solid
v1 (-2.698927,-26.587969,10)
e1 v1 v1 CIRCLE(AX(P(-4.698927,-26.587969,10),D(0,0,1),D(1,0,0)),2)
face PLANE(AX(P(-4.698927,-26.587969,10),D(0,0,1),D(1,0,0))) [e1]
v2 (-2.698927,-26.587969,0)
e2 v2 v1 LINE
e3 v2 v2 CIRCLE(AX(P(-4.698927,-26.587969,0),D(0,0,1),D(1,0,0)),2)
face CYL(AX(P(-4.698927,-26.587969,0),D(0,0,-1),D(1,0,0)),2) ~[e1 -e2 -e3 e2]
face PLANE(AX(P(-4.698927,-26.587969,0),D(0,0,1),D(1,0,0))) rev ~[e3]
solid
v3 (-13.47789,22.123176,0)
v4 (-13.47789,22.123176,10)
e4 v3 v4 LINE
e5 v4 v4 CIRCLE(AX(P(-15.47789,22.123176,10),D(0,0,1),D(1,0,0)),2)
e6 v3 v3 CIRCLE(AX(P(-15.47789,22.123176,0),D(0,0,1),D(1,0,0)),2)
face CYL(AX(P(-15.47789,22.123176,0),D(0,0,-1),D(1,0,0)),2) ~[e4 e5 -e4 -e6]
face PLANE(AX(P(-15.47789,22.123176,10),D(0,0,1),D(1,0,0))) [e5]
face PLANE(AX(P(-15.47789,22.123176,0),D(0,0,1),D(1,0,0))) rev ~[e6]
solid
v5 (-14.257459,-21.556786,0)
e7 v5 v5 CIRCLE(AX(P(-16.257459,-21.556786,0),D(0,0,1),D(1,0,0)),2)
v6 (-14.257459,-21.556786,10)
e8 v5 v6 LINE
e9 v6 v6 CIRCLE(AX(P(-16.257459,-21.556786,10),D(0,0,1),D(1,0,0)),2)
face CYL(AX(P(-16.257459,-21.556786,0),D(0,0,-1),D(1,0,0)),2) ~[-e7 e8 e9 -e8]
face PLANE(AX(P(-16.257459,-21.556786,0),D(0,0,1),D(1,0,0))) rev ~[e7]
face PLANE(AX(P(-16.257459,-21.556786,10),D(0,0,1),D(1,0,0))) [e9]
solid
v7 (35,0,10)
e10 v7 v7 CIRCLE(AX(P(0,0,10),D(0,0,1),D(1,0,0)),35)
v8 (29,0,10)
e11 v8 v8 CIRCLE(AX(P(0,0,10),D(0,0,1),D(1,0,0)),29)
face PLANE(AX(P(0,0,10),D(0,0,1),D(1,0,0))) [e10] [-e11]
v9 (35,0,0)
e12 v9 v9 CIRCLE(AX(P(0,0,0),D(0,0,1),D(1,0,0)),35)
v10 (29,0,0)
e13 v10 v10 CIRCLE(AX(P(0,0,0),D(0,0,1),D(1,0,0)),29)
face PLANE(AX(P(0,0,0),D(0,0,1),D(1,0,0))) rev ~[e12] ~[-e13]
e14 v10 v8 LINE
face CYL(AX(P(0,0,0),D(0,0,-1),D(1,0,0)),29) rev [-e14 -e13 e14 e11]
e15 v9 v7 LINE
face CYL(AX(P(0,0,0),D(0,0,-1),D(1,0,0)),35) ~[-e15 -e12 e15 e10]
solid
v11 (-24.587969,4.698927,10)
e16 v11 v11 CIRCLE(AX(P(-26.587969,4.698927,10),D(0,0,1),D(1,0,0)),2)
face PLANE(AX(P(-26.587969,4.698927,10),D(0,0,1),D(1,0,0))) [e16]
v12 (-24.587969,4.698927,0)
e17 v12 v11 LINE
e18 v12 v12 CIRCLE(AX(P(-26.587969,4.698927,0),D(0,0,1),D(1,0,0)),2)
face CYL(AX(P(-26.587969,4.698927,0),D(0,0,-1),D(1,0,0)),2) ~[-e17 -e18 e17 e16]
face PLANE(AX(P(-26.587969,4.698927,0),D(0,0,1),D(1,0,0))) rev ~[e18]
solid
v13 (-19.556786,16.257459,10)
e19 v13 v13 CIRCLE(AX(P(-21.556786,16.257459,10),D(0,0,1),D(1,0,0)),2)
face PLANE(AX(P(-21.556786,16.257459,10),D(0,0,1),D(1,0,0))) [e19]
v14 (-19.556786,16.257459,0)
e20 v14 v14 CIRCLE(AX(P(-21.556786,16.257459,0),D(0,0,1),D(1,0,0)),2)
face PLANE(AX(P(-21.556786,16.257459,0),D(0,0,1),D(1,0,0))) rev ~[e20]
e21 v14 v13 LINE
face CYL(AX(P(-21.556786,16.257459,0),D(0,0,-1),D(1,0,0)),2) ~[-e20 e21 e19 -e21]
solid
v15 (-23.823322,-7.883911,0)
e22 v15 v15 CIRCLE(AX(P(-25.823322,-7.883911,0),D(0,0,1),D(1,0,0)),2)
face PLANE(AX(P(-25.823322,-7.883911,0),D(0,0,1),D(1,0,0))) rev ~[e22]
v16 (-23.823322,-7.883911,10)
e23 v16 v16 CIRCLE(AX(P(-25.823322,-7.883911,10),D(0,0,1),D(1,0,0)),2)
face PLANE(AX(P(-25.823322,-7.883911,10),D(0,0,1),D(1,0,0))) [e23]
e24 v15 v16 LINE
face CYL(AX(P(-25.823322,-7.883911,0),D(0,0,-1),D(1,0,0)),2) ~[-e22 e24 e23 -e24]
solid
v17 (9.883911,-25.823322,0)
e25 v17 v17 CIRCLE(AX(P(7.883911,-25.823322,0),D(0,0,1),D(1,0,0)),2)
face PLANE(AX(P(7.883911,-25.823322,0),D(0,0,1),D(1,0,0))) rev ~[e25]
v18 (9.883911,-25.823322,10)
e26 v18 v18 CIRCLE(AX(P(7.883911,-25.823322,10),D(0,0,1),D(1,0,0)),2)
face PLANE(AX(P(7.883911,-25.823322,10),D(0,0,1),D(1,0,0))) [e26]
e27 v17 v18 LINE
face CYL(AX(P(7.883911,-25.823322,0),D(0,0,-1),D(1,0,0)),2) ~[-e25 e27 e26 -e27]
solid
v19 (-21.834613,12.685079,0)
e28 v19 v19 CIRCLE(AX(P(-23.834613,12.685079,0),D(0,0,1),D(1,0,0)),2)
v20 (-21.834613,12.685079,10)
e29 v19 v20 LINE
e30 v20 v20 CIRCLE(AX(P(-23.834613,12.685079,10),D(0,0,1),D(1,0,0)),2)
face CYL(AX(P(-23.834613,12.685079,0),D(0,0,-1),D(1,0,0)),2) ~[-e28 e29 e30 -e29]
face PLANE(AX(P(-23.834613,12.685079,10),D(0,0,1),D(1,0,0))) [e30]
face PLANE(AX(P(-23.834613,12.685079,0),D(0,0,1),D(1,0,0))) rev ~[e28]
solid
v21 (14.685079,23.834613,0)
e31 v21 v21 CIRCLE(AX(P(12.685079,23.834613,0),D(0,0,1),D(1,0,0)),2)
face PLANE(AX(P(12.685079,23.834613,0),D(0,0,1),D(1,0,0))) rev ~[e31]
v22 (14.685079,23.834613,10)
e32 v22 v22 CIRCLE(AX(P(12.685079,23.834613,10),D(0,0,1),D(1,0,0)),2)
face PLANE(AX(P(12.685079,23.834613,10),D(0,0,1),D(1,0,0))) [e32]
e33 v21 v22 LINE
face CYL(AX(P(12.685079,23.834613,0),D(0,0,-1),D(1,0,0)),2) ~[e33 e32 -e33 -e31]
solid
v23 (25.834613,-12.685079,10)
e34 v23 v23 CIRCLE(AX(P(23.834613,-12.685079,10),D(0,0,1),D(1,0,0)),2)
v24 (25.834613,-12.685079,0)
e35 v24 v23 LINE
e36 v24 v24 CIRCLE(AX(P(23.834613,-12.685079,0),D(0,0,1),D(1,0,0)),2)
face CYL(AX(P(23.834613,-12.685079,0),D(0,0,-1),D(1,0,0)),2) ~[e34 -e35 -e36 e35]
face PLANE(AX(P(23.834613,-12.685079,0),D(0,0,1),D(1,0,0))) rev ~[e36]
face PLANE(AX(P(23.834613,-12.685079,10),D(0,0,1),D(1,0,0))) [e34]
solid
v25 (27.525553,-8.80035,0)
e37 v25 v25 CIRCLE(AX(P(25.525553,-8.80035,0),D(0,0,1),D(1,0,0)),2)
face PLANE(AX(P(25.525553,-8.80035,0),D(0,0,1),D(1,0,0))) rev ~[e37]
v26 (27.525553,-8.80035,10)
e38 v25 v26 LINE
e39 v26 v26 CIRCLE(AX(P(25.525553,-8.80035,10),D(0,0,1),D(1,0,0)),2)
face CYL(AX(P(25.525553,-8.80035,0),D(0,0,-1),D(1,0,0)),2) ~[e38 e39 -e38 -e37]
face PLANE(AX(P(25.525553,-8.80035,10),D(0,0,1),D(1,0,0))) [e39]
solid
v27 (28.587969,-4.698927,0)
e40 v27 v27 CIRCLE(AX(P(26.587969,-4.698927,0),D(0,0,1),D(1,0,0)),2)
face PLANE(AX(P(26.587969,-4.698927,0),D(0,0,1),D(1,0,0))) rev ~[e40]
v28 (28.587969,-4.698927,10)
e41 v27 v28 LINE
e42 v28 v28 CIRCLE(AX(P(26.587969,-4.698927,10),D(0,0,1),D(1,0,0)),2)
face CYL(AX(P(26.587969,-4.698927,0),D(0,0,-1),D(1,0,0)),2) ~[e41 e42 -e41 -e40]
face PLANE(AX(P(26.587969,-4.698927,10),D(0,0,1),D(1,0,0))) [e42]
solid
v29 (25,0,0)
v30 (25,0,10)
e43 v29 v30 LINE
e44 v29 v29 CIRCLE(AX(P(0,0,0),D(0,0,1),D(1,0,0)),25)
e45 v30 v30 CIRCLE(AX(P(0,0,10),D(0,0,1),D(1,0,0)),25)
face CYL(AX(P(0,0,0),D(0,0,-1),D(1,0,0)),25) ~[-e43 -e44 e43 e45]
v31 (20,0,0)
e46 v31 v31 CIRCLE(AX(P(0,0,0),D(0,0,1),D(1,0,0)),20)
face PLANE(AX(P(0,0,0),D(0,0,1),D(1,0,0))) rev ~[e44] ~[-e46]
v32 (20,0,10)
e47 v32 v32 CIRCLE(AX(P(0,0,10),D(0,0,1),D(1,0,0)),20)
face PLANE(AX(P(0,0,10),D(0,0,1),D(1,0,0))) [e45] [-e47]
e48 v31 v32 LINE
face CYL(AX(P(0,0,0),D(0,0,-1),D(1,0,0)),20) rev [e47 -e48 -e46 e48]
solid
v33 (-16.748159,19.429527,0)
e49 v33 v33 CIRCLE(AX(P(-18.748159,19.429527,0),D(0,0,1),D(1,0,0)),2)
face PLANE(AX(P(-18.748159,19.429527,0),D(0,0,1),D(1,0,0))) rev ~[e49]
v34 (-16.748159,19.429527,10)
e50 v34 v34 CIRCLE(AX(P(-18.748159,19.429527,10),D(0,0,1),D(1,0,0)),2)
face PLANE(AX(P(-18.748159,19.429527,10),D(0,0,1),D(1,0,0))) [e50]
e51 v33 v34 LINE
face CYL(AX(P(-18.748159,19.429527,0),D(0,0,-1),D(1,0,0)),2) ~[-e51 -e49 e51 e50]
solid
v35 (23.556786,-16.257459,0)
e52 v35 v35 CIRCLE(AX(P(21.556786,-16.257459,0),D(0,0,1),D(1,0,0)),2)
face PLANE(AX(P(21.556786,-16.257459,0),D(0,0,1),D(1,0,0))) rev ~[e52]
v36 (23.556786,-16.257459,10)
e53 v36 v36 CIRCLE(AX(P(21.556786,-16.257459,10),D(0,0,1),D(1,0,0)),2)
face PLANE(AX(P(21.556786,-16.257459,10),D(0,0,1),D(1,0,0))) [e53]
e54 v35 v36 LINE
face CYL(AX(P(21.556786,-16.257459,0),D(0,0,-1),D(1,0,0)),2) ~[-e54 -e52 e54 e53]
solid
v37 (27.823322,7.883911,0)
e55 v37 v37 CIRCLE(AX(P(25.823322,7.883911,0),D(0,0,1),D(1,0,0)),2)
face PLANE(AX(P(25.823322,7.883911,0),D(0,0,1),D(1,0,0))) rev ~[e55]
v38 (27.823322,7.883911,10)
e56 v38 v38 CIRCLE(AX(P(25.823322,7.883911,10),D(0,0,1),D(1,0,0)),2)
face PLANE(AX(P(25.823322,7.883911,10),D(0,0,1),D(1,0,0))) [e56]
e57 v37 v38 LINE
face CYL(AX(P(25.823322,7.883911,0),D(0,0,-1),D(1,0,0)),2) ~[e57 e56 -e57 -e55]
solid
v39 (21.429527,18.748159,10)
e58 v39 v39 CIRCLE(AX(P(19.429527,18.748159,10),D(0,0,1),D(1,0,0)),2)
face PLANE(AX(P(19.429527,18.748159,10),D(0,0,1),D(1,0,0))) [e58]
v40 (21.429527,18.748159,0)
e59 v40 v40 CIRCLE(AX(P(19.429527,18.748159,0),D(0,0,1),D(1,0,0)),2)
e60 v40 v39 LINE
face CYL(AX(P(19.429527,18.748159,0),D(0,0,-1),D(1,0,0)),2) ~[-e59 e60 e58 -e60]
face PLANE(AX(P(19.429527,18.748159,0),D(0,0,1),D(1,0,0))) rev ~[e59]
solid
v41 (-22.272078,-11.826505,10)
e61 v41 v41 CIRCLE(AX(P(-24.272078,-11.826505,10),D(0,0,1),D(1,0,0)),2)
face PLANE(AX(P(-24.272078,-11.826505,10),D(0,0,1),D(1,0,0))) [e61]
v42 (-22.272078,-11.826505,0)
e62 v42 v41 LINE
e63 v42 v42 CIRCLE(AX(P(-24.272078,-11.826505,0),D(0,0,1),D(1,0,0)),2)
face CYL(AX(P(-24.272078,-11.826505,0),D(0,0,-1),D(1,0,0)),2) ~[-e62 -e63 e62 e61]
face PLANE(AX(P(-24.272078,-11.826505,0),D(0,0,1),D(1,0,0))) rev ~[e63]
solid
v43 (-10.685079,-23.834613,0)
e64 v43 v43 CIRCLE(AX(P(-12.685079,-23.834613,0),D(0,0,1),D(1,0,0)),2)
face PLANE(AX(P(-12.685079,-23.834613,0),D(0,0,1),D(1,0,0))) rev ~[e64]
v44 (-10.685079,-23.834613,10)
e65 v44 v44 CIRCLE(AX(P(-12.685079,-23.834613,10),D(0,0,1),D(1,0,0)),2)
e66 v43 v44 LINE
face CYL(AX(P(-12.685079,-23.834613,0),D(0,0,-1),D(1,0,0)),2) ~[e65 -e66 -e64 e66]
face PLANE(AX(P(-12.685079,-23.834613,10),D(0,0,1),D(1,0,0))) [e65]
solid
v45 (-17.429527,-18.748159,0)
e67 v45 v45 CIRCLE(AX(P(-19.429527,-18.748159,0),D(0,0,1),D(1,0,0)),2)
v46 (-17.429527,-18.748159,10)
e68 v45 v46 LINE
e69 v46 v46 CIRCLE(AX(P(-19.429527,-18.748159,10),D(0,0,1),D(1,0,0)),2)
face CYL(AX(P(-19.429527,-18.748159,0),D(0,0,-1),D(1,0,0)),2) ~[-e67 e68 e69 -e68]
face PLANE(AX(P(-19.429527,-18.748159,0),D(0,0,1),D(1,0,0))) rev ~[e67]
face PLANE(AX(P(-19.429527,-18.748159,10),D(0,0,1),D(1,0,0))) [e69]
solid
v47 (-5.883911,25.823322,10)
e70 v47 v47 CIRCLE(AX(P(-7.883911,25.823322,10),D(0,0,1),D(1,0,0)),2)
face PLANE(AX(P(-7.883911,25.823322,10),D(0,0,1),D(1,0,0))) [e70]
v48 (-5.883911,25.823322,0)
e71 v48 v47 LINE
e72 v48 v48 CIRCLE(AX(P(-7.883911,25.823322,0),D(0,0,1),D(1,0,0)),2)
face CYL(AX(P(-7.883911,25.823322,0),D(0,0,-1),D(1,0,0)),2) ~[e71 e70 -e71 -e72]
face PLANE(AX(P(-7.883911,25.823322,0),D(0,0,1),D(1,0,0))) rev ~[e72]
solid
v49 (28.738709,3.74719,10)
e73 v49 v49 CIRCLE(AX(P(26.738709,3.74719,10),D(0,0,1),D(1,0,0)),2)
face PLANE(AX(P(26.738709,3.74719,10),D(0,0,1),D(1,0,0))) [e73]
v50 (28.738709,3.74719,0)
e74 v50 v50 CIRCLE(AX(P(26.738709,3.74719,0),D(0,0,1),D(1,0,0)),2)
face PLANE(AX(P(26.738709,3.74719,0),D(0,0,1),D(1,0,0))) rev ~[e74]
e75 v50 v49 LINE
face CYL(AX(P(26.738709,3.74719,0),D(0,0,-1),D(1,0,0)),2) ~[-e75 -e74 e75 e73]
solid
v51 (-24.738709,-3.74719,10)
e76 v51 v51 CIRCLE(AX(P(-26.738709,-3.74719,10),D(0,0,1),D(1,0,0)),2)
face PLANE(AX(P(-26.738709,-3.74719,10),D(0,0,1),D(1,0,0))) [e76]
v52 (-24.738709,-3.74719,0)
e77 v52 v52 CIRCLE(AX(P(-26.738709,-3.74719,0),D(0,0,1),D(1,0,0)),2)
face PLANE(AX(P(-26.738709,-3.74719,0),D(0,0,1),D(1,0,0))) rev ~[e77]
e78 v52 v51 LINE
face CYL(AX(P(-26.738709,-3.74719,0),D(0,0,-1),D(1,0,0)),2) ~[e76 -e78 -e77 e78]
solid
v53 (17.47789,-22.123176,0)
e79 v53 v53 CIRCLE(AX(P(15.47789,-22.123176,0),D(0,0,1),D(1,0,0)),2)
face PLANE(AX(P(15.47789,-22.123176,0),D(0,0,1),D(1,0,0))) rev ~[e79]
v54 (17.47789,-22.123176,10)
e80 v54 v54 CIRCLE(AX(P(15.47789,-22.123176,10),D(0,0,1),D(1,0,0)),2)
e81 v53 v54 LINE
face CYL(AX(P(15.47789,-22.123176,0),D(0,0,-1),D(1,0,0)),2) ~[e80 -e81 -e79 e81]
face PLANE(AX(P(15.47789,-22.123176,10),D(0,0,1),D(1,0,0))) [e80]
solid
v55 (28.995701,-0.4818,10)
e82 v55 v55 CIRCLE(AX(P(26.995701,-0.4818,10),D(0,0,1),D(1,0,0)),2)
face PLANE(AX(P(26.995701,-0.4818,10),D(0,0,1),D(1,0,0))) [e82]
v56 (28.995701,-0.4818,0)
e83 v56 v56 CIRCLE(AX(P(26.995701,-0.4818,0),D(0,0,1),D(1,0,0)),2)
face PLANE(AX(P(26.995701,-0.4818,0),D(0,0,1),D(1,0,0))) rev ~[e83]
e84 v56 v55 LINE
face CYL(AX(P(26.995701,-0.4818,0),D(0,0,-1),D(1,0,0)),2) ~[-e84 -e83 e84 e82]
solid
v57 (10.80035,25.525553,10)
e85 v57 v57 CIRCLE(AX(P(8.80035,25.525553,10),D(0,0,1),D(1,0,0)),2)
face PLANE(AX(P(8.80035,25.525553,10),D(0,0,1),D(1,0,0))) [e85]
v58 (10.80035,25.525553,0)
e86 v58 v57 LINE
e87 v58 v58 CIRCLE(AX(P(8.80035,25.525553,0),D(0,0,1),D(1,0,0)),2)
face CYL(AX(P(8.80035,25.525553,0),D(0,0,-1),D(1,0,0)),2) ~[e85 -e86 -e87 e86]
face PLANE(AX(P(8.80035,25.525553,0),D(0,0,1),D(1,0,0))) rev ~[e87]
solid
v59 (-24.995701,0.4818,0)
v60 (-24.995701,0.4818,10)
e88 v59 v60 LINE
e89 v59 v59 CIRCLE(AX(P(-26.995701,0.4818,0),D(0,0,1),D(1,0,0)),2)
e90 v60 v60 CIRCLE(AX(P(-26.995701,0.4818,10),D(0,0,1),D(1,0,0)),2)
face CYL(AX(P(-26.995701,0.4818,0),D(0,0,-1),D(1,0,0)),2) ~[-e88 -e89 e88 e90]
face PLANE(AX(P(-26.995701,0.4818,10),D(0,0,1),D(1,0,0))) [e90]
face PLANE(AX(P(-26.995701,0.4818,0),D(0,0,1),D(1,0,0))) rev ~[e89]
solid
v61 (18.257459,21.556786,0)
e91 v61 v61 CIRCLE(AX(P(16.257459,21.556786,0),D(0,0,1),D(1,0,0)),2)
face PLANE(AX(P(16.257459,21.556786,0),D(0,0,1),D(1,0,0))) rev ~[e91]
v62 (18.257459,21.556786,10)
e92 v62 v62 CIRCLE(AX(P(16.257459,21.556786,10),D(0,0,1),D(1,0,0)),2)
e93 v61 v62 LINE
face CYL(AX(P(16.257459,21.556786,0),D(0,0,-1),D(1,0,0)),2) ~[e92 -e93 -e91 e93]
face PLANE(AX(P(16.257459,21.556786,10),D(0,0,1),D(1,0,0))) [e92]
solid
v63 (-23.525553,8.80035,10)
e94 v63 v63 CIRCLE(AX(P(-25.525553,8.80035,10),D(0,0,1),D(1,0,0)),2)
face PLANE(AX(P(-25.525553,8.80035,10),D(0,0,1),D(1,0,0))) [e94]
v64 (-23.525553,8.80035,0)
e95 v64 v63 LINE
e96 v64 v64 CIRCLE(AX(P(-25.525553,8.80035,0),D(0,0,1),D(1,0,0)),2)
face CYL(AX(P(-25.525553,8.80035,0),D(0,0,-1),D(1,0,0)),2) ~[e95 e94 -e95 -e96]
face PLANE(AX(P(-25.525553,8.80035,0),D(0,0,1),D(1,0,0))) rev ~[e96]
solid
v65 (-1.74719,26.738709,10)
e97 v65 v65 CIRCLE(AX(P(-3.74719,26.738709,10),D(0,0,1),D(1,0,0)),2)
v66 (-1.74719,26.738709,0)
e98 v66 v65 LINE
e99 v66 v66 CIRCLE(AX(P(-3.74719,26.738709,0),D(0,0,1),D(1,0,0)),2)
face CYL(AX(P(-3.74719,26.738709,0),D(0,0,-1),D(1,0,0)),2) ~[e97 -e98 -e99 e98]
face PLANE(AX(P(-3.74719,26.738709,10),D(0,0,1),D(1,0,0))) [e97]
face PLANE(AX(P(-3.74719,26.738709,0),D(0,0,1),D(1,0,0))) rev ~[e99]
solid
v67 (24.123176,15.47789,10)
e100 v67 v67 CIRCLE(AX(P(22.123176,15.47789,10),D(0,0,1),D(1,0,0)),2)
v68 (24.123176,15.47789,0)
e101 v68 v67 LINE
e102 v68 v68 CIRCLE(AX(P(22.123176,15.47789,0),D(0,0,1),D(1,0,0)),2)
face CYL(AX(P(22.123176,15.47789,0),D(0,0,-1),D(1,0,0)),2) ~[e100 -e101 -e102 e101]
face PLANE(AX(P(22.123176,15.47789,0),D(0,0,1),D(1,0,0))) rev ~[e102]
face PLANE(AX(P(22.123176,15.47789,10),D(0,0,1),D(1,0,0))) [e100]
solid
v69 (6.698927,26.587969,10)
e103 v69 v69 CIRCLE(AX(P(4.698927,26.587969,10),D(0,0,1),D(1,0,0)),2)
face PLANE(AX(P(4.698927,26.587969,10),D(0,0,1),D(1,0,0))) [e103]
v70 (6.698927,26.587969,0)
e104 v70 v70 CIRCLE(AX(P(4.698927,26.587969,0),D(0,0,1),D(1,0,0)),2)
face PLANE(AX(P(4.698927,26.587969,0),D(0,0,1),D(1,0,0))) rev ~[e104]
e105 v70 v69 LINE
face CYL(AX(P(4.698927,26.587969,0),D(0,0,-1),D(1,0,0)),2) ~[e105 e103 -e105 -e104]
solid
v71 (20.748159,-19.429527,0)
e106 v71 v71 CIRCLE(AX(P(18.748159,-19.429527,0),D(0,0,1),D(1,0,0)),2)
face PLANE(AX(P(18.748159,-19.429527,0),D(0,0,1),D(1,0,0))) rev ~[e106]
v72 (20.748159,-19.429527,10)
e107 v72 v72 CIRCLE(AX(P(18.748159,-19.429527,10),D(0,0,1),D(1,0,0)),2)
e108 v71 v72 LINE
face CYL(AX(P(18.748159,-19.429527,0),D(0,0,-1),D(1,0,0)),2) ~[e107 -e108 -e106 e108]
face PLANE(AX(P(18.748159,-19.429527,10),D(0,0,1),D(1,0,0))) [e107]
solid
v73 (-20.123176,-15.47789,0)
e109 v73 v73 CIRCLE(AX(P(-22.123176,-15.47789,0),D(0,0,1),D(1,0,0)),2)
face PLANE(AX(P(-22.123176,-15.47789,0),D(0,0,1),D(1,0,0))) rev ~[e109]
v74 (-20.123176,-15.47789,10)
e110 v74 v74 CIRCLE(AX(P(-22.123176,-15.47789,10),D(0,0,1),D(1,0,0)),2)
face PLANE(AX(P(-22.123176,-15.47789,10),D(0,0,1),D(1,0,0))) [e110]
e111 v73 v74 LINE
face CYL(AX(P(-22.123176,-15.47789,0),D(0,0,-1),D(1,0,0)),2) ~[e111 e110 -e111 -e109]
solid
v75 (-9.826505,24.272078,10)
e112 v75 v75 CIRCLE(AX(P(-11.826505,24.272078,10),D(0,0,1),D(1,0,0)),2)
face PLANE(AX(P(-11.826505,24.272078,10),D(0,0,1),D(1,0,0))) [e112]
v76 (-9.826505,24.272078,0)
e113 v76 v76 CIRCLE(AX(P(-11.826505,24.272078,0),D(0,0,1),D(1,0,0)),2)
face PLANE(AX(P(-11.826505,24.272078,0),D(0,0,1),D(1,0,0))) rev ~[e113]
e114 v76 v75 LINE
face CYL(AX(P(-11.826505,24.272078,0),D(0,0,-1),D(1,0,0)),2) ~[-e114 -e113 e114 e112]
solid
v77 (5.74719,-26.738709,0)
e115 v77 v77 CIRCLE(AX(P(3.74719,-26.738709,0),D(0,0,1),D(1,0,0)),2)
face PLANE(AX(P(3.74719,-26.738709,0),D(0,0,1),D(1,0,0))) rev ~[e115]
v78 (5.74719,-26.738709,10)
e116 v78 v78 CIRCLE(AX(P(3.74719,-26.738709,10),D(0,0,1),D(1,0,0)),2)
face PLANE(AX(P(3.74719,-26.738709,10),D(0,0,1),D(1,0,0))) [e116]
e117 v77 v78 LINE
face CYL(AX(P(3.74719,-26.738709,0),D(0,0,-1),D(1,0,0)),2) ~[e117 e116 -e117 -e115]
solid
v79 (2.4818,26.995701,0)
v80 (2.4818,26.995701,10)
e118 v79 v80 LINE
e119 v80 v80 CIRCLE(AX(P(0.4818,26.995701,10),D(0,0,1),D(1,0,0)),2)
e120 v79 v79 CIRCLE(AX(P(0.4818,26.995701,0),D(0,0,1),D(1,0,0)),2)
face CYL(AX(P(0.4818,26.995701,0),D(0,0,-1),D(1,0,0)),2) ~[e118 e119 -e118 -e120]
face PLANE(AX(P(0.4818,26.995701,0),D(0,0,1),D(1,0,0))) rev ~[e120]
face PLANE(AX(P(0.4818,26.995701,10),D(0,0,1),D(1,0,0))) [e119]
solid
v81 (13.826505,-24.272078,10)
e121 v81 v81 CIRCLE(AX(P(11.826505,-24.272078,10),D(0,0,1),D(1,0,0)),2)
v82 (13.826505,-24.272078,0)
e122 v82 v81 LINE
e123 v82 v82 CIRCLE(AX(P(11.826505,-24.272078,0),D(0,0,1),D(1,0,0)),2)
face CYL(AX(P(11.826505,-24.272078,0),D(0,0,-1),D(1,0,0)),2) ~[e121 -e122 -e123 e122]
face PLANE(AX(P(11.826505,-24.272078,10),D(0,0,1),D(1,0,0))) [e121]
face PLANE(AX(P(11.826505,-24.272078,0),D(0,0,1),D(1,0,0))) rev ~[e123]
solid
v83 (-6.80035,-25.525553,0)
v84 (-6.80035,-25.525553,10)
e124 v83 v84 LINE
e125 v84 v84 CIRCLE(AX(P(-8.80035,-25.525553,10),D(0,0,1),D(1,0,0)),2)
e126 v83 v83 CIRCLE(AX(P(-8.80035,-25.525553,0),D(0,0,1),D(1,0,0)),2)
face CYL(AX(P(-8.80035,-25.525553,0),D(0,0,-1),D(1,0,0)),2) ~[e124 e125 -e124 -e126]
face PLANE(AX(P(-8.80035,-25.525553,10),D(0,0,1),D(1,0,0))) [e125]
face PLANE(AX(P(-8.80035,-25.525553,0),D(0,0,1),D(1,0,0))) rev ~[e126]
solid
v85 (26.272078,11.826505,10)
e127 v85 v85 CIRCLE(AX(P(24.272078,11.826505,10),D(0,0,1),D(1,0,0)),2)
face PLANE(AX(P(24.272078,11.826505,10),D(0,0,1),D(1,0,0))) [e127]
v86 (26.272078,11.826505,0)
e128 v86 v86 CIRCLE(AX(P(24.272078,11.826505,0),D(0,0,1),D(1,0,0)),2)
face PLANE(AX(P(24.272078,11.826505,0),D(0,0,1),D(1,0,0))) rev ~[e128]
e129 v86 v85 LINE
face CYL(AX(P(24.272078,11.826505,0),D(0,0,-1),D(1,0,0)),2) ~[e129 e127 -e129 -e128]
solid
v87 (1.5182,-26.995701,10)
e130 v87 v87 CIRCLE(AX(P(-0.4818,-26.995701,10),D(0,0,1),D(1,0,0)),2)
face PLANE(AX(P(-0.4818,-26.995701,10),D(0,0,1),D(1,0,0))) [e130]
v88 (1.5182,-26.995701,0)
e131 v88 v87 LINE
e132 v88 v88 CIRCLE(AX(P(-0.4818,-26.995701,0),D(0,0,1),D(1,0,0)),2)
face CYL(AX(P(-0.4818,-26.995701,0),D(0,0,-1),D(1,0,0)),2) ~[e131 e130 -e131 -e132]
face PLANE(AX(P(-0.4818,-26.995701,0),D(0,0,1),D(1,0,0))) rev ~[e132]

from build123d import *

# Parameters (mm, degrees)
SKETCH2_R              = 25
SKETCH2_R_2            = 20
BOSS_EXTRUDE1_DEPTH    = 10
SKETCH2_R_3            = 2
BOSS_EXTRUDE1_2_DEPTH  = 10
BOSS_EXTRUDE1_3_DEPTH  = 10
BOSS_EXTRUDE1_4_DEPTH  = 10
BOSS_EXTRUDE1_5_DEPTH  = 10
BOSS_EXTRUDE1_6_DEPTH  = 10
BOSS_EXTRUDE1_7_DEPTH  = 10
BOSS_EXTRUDE1_8_DEPTH  = 10
BOSS_EXTRUDE1_9_DEPTH  = 10
BOSS_EXTRUDE1_10_DEPTH = 10
BOSS_EXTRUDE1_11_DEPTH = 10
BOSS_EXTRUDE1_12_DEPTH = 10
BOSS_EXTRUDE1_13_DEPTH = 10
BOSS_EXTRUDE1_14_DEPTH = 10
BOSS_EXTRUDE1_15_DEPTH = 10
BOSS_EXTRUDE1_16_DEPTH = 10
BOSS_EXTRUDE1_17_DEPTH = 10
BOSS_EXTRUDE1_18_DEPTH = 10
BOSS_EXTRUDE1_19_DEPTH = 10
BOSS_EXTRUDE1_20_DEPTH = 10
BOSS_EXTRUDE1_21_DEPTH = 10
BOSS_EXTRUDE1_22_DEPTH = 10
BOSS_EXTRUDE1_23_DEPTH = 10
BOSS_EXTRUDE1_24_DEPTH = 10
BOSS_EXTRUDE1_25_DEPTH = 10
BOSS_EXTRUDE1_26_DEPTH = 10
BOSS_EXTRUDE1_27_DEPTH = 10
BOSS_EXTRUDE1_28_DEPTH = 10
BOSS_EXTRUDE1_29_DEPTH = 10
BOSS_EXTRUDE1_30_DEPTH = 10
BOSS_EXTRUDE1_31_DEPTH = 10
BOSS_EXTRUDE1_32_DEPTH = 10
BOSS_EXTRUDE1_33_DEPTH = 10
BOSS_EXTRUDE1_34_DEPTH = 10
SKETCH2_R_4            = 35
SKETCH2_R_5            = 29
BOSS_EXTRUDE1_35_DEPTH = 10
BOSS_EXTRUDE1_36_DEPTH = 10
BOSS_EXTRUDE1_37_DEPTH = 10
BOSS_EXTRUDE1_38_DEPTH = 10
BOSS_EXTRUDE1_39_DEPTH = 10
BOSS_EXTRUDE1_40_DEPTH = 10
BOSS_EXTRUDE1_41_DEPTH = 10
BOSS_EXTRUDE1_42_DEPTH = 10


with BuildPart() as part:
    # Sketch2 → Boss-Extrude1 (new body)
    with BuildSketch(Plane.XY):
        Circle(SKETCH2_R)
        Circle(SKETCH2_R_2, mode=Mode.SUBTRACT)
    extrude(amount=BOSS_EXTRUDE1_DEPTH)


with BuildPart() as body_2:
    # Sketch2 → Boss-Extrude1 2 (new body)
    with BuildSketch(Plane.XY):
        with Locations((16.257459459, 21.556785751)):
            Circle(SKETCH2_R_3)
    extrude(amount=BOSS_EXTRUDE1_2_DEPTH)


with BuildPart() as body_3:
    # Sketch2 → Boss-Extrude1 3 (new body)
    with BuildSketch(Plane.XY):
        with Locations((19.429527403, 18.748158974)):
            Circle(SKETCH2_R_3)
    extrude(amount=BOSS_EXTRUDE1_3_DEPTH)


with BuildPart() as body_4:
    # Sketch2 → Boss-Extrude1 4 (new body)
    with BuildSketch(Plane.XY):
        with Locations((22.123175898, 15.477890301)):
            Circle(SKETCH2_R_3)
    extrude(amount=BOSS_EXTRUDE1_4_DEPTH)


with BuildPart() as body_5:
    # Sketch2 → Boss-Extrude1 5 (new body)
    with BuildSketch(Plane.XY):
        with Locations((24.272078381, 11.8265046)):
            Circle(SKETCH2_R_3)
    extrude(amount=BOSS_EXTRUDE1_5_DEPTH)


with BuildPart() as body_6:
    # Sketch2 → Boss-Extrude1 6 (new body)
    with BuildSketch(Plane.XY):
        with Locations((25.823321739, 7.883911107)):
            Circle(SKETCH2_R_3)
    extrude(amount=BOSS_EXTRUDE1_6_DEPTH)


with BuildPart() as body_7:
    # Sketch2 → Boss-Extrude1 7 (new body)
    with BuildSketch(Plane.XY):
        with Locations((26.738709214, 3.747189557)):
            Circle(SKETCH2_R_3)
    extrude(amount=BOSS_EXTRUDE1_7_DEPTH)


with BuildPart() as body_8:
    # Sketch2 → Boss-Extrude1 8 (new body)
    with BuildSketch(Plane.XY):
        with Locations((26.995700927, -0.481800237)):
            Circle(SKETCH2_R_3)
    extrude(amount=BOSS_EXTRUDE1_8_DEPTH)


with BuildPart() as body_9:
    # Sketch2 → Boss-Extrude1 9 (new body)
    with BuildSketch(Plane.XY):
        with Locations((26.587968889, -4.698926509)):
            Circle(SKETCH2_R_3)
    extrude(amount=BOSS_EXTRUDE1_9_DEPTH)


with BuildPart() as body_10:
    # Sketch2 → Boss-Extrude1 10 (new body)
    with BuildSketch(Plane.XY):
        with Locations((25.525552817, -8.800349616)):
            Circle(SKETCH2_R_3)
    extrude(amount=BOSS_EXTRUDE1_10_DEPTH)


with BuildPart() as body_11:
    # Sketch2 → Boss-Extrude1 11 (new body)
    with BuildSketch(Plane.XY):
        with Locations((23.834612921, -12.685078909)):
            Circle(SKETCH2_R_3)
    extrude(amount=BOSS_EXTRUDE1_11_DEPTH)


with BuildPart() as body_12:
    # Sketch2 → Boss-Extrude1 12 (new body)
    with BuildSketch(Plane.XY):
        with Locations((21.556785751, -16.257459459)):
            Circle(SKETCH2_R_3)
    extrude(amount=BOSS_EXTRUDE1_12_DEPTH)


with BuildPart() as body_13:
    # Sketch2 → Boss-Extrude1 13 (new body)
    with BuildSketch(Plane.XY):
        with Locations((18.748158974, -19.429527403)):
            Circle(SKETCH2_R_3)
    extrude(amount=BOSS_EXTRUDE1_13_DEPTH)


with BuildPart() as body_14:
    # Sketch2 → Boss-Extrude1 14 (new body)
    with BuildSketch(Plane.XY):
        with Locations((7.883911107, -25.823321739)):
            Circle(SKETCH2_R_3)
    extrude(amount=BOSS_EXTRUDE1_14_DEPTH)


with BuildPart() as body_15:
    # Sketch2 → Boss-Extrude1 15 (new body)
    with BuildSketch(Plane.XY):
        with Locations((3.747189557, -26.738709214)):
            Circle(SKETCH2_R_3)
    extrude(amount=BOSS_EXTRUDE1_15_DEPTH)


with BuildPart() as body_16:
    # Sketch2 → Boss-Extrude1 16 (new body)
    with BuildSketch(Plane.XY):
        with Locations((-0.481800237, -26.995700927)):
            Circle(SKETCH2_R_3)
    extrude(amount=BOSS_EXTRUDE1_16_DEPTH)


with BuildPart() as body_17:
    # Sketch2 → Boss-Extrude1 17 (new body)
    with BuildSketch(Plane.XY):
        with Locations((-4.698926509, -26.587968889)):
            Circle(SKETCH2_R_3)
    extrude(amount=BOSS_EXTRUDE1_17_DEPTH)


with BuildPart() as body_18:
    # Sketch2 → Boss-Extrude1 18 (new body)
    with BuildSketch(Plane.XY):
        with Locations((-8.800349616, -25.525552817)):
            Circle(SKETCH2_R_3)
    extrude(amount=BOSS_EXTRUDE1_18_DEPTH)


with BuildPart() as body_19:
    # Sketch2 → Boss-Extrude1 19 (new body)
    with BuildSketch(Plane.XY):
        with Locations((-12.685078909, -23.834612921)):
            Circle(SKETCH2_R_3)
    extrude(amount=BOSS_EXTRUDE1_19_DEPTH)


with BuildPart() as body_20:
    # Sketch2 → Boss-Extrude1 20 (new body)
    with BuildSketch(Plane.XY):
        with Locations((-16.257459459, -21.556785751)):
            Circle(SKETCH2_R_3)
    extrude(amount=BOSS_EXTRUDE1_20_DEPTH)


with BuildPart() as body_21:
    # Sketch2 → Boss-Extrude1 21 (new body)
    with BuildSketch(Plane.XY):
        with Locations((-19.429527403, -18.748158974)):
            Circle(SKETCH2_R_3)
    extrude(amount=BOSS_EXTRUDE1_21_DEPTH)


with BuildPart() as body_22:
    # Sketch2 → Boss-Extrude1 22 (new body)
    with BuildSketch(Plane.XY):
        with Locations((-22.123175898, -15.477890301)):
            Circle(SKETCH2_R_3)
    extrude(amount=BOSS_EXTRUDE1_22_DEPTH)


with BuildPart() as body_23:
    # Sketch2 → Boss-Extrude1 23 (new body)
    with BuildSketch(Plane.XY):
        with Locations((-24.272078381, -11.8265046)):
            Circle(SKETCH2_R_3)
    extrude(amount=BOSS_EXTRUDE1_23_DEPTH)


with BuildPart() as body_24:
    # Sketch2 → Boss-Extrude1 24 (new body)
    with BuildSketch(Plane.XY):
        with Locations((-25.823321739, -7.883911107)):
            Circle(SKETCH2_R_3)
    extrude(amount=BOSS_EXTRUDE1_24_DEPTH)


with BuildPart() as body_25:
    # Sketch2 → Boss-Extrude1 25 (new body)
    with BuildSketch(Plane.XY):
        with Locations((-26.738709214, -3.747189557)):
            Circle(SKETCH2_R_3)
    extrude(amount=BOSS_EXTRUDE1_25_DEPTH)


with BuildPart() as body_26:
    # Sketch2 → Boss-Extrude1 26 (new body)
    with BuildSketch(Plane.XY):
        with Locations((-26.995700927, 0.481800237)):
            Circle(SKETCH2_R_3)
    extrude(amount=BOSS_EXTRUDE1_26_DEPTH)


with BuildPart() as body_27:
    # Sketch2 → Boss-Extrude1 27 (new body)
    with BuildSketch(Plane.XY):
        with Locations((-15.477890301, 22.123175898)):
            Circle(SKETCH2_R_3)
    extrude(amount=BOSS_EXTRUDE1_27_DEPTH)


with BuildPart() as body_28:
    # Sketch2 → Boss-Extrude1 28 (new body)
    with BuildSketch(Plane.XY):
        with Locations((-11.8265046, 24.272078381)):
            Circle(SKETCH2_R_3)
    extrude(amount=BOSS_EXTRUDE1_28_DEPTH)


with BuildPart() as body_29:
    # Sketch2 → Boss-Extrude1 29 (new body)
    with BuildSketch(Plane.XY):
        with Locations((-7.883911107, 25.823321739)):
            Circle(SKETCH2_R_3)
    extrude(amount=BOSS_EXTRUDE1_29_DEPTH)


with BuildPart() as body_30:
    # Sketch2 → Boss-Extrude1 30 (new body)
    with BuildSketch(Plane.XY):
        with Locations((-3.747189557, 26.738709214)):
            Circle(SKETCH2_R_3)
    extrude(amount=BOSS_EXTRUDE1_30_DEPTH)


with BuildPart() as body_31:
    # Sketch2 → Boss-Extrude1 31 (new body)
    with BuildSketch(Plane.XY):
        with Locations((0.481800237, 26.995700927)):
            Circle(SKETCH2_R_3)
    extrude(amount=BOSS_EXTRUDE1_31_DEPTH)


with BuildPart() as body_32:
    # Sketch2 → Boss-Extrude1 32 (new body)
    with BuildSketch(Plane.XY):
        with Locations((4.698926509, 26.587968889)):
            Circle(SKETCH2_R_3)
    extrude(amount=BOSS_EXTRUDE1_32_DEPTH)


with BuildPart() as body_33:
    # Sketch2 → Boss-Extrude1 33 (new body)
    with BuildSketch(Plane.XY):
        with Locations((8.800349616, 25.525552817)):
            Circle(SKETCH2_R_3)
    extrude(amount=BOSS_EXTRUDE1_33_DEPTH)


with BuildPart() as body_34:
    # Sketch2 → Boss-Extrude1 34 (new body)
    with BuildSketch(Plane.XY):
        with Locations((12.685078909, 23.834612921)):
            Circle(SKETCH2_R_3)
    extrude(amount=BOSS_EXTRUDE1_34_DEPTH)


with BuildPart() as body_35:
    # Sketch2 → Boss-Extrude1 35 (new body)
    with BuildSketch(Plane.XY):
        Circle(SKETCH2_R_4)
        Circle(SKETCH2_R_5, mode=Mode.SUBTRACT)
    extrude(amount=BOSS_EXTRUDE1_35_DEPTH)


with BuildPart() as body_36:
    # Sketch2 → Boss-Extrude1 36 (new body)
    with BuildSketch(Plane.XY):
        with Locations((15.477890301, -22.123175898)):
            Circle(SKETCH2_R_3)
    extrude(amount=BOSS_EXTRUDE1_36_DEPTH)


with BuildPart() as body_37:
    # Sketch2 → Boss-Extrude1 37 (new body)
    with BuildSketch(Plane.XY):
        with Locations((11.826504601, -24.272078381)):
            Circle(SKETCH2_R_3)
    extrude(amount=BOSS_EXTRUDE1_37_DEPTH)


with BuildPart() as body_38:
    # Sketch2 → Boss-Extrude1 38 (new body)
    with BuildSketch(Plane.XY):
        with Locations((-26.587968889, 4.698926509)):
            Circle(SKETCH2_R_3)
    extrude(amount=BOSS_EXTRUDE1_38_DEPTH)


with BuildPart() as body_39:
    # Sketch2 → Boss-Extrude1 39 (new body)
    with BuildSketch(Plane.XY):
        with Locations((-25.525552817, 8.800349616)):
            Circle(SKETCH2_R_3)
    extrude(amount=BOSS_EXTRUDE1_39_DEPTH)


with BuildPart() as body_40:
    # Sketch2 → Boss-Extrude1 40 (new body)
    with BuildSketch(Plane.XY):
        with Locations((-23.834612921, 12.685078909)):
            Circle(SKETCH2_R_3)
    extrude(amount=BOSS_EXTRUDE1_40_DEPTH)


with BuildPart() as body_41:
    # Sketch2 → Boss-Extrude1 41 (new body)
    with BuildSketch(Plane.XY):
        with Locations((-21.556785751, 16.257459459)):
            Circle(SKETCH2_R_3)
    extrude(amount=BOSS_EXTRUDE1_41_DEPTH)


with BuildPart() as body_42:
    # Sketch2 → Boss-Extrude1 42 (new body)
    with BuildSketch(Plane.XY):
        with Locations((-18.748158974, 19.429527403)):
            Circle(SKETCH2_R_3)
    extrude(amount=BOSS_EXTRUDE1_42_DEPTH)


solid = Compound([part.part, body_2.part, body_3.part, body_4.part, body_5.part, body_6.part, body_7.part, body_8.part, body_9.part, body_10.part, body_11.part, body_12.part, body_13.part, body_14.part, body_15.part, body_16.part, body_17.part, body_18.part, body_19.part, body_20.part, body_21.part, body_22.part, body_23.part, body_24.part, body_25.part, body_26.part, body_27.part, body_28.part, body_29.part, body_30.part, body_31.part, body_32.part, body_33.part, body_34.part, body_35.part, body_36.part, body_37.part, body_38.part, body_39.part, body_40.part, body_41.part, body_42.part])
